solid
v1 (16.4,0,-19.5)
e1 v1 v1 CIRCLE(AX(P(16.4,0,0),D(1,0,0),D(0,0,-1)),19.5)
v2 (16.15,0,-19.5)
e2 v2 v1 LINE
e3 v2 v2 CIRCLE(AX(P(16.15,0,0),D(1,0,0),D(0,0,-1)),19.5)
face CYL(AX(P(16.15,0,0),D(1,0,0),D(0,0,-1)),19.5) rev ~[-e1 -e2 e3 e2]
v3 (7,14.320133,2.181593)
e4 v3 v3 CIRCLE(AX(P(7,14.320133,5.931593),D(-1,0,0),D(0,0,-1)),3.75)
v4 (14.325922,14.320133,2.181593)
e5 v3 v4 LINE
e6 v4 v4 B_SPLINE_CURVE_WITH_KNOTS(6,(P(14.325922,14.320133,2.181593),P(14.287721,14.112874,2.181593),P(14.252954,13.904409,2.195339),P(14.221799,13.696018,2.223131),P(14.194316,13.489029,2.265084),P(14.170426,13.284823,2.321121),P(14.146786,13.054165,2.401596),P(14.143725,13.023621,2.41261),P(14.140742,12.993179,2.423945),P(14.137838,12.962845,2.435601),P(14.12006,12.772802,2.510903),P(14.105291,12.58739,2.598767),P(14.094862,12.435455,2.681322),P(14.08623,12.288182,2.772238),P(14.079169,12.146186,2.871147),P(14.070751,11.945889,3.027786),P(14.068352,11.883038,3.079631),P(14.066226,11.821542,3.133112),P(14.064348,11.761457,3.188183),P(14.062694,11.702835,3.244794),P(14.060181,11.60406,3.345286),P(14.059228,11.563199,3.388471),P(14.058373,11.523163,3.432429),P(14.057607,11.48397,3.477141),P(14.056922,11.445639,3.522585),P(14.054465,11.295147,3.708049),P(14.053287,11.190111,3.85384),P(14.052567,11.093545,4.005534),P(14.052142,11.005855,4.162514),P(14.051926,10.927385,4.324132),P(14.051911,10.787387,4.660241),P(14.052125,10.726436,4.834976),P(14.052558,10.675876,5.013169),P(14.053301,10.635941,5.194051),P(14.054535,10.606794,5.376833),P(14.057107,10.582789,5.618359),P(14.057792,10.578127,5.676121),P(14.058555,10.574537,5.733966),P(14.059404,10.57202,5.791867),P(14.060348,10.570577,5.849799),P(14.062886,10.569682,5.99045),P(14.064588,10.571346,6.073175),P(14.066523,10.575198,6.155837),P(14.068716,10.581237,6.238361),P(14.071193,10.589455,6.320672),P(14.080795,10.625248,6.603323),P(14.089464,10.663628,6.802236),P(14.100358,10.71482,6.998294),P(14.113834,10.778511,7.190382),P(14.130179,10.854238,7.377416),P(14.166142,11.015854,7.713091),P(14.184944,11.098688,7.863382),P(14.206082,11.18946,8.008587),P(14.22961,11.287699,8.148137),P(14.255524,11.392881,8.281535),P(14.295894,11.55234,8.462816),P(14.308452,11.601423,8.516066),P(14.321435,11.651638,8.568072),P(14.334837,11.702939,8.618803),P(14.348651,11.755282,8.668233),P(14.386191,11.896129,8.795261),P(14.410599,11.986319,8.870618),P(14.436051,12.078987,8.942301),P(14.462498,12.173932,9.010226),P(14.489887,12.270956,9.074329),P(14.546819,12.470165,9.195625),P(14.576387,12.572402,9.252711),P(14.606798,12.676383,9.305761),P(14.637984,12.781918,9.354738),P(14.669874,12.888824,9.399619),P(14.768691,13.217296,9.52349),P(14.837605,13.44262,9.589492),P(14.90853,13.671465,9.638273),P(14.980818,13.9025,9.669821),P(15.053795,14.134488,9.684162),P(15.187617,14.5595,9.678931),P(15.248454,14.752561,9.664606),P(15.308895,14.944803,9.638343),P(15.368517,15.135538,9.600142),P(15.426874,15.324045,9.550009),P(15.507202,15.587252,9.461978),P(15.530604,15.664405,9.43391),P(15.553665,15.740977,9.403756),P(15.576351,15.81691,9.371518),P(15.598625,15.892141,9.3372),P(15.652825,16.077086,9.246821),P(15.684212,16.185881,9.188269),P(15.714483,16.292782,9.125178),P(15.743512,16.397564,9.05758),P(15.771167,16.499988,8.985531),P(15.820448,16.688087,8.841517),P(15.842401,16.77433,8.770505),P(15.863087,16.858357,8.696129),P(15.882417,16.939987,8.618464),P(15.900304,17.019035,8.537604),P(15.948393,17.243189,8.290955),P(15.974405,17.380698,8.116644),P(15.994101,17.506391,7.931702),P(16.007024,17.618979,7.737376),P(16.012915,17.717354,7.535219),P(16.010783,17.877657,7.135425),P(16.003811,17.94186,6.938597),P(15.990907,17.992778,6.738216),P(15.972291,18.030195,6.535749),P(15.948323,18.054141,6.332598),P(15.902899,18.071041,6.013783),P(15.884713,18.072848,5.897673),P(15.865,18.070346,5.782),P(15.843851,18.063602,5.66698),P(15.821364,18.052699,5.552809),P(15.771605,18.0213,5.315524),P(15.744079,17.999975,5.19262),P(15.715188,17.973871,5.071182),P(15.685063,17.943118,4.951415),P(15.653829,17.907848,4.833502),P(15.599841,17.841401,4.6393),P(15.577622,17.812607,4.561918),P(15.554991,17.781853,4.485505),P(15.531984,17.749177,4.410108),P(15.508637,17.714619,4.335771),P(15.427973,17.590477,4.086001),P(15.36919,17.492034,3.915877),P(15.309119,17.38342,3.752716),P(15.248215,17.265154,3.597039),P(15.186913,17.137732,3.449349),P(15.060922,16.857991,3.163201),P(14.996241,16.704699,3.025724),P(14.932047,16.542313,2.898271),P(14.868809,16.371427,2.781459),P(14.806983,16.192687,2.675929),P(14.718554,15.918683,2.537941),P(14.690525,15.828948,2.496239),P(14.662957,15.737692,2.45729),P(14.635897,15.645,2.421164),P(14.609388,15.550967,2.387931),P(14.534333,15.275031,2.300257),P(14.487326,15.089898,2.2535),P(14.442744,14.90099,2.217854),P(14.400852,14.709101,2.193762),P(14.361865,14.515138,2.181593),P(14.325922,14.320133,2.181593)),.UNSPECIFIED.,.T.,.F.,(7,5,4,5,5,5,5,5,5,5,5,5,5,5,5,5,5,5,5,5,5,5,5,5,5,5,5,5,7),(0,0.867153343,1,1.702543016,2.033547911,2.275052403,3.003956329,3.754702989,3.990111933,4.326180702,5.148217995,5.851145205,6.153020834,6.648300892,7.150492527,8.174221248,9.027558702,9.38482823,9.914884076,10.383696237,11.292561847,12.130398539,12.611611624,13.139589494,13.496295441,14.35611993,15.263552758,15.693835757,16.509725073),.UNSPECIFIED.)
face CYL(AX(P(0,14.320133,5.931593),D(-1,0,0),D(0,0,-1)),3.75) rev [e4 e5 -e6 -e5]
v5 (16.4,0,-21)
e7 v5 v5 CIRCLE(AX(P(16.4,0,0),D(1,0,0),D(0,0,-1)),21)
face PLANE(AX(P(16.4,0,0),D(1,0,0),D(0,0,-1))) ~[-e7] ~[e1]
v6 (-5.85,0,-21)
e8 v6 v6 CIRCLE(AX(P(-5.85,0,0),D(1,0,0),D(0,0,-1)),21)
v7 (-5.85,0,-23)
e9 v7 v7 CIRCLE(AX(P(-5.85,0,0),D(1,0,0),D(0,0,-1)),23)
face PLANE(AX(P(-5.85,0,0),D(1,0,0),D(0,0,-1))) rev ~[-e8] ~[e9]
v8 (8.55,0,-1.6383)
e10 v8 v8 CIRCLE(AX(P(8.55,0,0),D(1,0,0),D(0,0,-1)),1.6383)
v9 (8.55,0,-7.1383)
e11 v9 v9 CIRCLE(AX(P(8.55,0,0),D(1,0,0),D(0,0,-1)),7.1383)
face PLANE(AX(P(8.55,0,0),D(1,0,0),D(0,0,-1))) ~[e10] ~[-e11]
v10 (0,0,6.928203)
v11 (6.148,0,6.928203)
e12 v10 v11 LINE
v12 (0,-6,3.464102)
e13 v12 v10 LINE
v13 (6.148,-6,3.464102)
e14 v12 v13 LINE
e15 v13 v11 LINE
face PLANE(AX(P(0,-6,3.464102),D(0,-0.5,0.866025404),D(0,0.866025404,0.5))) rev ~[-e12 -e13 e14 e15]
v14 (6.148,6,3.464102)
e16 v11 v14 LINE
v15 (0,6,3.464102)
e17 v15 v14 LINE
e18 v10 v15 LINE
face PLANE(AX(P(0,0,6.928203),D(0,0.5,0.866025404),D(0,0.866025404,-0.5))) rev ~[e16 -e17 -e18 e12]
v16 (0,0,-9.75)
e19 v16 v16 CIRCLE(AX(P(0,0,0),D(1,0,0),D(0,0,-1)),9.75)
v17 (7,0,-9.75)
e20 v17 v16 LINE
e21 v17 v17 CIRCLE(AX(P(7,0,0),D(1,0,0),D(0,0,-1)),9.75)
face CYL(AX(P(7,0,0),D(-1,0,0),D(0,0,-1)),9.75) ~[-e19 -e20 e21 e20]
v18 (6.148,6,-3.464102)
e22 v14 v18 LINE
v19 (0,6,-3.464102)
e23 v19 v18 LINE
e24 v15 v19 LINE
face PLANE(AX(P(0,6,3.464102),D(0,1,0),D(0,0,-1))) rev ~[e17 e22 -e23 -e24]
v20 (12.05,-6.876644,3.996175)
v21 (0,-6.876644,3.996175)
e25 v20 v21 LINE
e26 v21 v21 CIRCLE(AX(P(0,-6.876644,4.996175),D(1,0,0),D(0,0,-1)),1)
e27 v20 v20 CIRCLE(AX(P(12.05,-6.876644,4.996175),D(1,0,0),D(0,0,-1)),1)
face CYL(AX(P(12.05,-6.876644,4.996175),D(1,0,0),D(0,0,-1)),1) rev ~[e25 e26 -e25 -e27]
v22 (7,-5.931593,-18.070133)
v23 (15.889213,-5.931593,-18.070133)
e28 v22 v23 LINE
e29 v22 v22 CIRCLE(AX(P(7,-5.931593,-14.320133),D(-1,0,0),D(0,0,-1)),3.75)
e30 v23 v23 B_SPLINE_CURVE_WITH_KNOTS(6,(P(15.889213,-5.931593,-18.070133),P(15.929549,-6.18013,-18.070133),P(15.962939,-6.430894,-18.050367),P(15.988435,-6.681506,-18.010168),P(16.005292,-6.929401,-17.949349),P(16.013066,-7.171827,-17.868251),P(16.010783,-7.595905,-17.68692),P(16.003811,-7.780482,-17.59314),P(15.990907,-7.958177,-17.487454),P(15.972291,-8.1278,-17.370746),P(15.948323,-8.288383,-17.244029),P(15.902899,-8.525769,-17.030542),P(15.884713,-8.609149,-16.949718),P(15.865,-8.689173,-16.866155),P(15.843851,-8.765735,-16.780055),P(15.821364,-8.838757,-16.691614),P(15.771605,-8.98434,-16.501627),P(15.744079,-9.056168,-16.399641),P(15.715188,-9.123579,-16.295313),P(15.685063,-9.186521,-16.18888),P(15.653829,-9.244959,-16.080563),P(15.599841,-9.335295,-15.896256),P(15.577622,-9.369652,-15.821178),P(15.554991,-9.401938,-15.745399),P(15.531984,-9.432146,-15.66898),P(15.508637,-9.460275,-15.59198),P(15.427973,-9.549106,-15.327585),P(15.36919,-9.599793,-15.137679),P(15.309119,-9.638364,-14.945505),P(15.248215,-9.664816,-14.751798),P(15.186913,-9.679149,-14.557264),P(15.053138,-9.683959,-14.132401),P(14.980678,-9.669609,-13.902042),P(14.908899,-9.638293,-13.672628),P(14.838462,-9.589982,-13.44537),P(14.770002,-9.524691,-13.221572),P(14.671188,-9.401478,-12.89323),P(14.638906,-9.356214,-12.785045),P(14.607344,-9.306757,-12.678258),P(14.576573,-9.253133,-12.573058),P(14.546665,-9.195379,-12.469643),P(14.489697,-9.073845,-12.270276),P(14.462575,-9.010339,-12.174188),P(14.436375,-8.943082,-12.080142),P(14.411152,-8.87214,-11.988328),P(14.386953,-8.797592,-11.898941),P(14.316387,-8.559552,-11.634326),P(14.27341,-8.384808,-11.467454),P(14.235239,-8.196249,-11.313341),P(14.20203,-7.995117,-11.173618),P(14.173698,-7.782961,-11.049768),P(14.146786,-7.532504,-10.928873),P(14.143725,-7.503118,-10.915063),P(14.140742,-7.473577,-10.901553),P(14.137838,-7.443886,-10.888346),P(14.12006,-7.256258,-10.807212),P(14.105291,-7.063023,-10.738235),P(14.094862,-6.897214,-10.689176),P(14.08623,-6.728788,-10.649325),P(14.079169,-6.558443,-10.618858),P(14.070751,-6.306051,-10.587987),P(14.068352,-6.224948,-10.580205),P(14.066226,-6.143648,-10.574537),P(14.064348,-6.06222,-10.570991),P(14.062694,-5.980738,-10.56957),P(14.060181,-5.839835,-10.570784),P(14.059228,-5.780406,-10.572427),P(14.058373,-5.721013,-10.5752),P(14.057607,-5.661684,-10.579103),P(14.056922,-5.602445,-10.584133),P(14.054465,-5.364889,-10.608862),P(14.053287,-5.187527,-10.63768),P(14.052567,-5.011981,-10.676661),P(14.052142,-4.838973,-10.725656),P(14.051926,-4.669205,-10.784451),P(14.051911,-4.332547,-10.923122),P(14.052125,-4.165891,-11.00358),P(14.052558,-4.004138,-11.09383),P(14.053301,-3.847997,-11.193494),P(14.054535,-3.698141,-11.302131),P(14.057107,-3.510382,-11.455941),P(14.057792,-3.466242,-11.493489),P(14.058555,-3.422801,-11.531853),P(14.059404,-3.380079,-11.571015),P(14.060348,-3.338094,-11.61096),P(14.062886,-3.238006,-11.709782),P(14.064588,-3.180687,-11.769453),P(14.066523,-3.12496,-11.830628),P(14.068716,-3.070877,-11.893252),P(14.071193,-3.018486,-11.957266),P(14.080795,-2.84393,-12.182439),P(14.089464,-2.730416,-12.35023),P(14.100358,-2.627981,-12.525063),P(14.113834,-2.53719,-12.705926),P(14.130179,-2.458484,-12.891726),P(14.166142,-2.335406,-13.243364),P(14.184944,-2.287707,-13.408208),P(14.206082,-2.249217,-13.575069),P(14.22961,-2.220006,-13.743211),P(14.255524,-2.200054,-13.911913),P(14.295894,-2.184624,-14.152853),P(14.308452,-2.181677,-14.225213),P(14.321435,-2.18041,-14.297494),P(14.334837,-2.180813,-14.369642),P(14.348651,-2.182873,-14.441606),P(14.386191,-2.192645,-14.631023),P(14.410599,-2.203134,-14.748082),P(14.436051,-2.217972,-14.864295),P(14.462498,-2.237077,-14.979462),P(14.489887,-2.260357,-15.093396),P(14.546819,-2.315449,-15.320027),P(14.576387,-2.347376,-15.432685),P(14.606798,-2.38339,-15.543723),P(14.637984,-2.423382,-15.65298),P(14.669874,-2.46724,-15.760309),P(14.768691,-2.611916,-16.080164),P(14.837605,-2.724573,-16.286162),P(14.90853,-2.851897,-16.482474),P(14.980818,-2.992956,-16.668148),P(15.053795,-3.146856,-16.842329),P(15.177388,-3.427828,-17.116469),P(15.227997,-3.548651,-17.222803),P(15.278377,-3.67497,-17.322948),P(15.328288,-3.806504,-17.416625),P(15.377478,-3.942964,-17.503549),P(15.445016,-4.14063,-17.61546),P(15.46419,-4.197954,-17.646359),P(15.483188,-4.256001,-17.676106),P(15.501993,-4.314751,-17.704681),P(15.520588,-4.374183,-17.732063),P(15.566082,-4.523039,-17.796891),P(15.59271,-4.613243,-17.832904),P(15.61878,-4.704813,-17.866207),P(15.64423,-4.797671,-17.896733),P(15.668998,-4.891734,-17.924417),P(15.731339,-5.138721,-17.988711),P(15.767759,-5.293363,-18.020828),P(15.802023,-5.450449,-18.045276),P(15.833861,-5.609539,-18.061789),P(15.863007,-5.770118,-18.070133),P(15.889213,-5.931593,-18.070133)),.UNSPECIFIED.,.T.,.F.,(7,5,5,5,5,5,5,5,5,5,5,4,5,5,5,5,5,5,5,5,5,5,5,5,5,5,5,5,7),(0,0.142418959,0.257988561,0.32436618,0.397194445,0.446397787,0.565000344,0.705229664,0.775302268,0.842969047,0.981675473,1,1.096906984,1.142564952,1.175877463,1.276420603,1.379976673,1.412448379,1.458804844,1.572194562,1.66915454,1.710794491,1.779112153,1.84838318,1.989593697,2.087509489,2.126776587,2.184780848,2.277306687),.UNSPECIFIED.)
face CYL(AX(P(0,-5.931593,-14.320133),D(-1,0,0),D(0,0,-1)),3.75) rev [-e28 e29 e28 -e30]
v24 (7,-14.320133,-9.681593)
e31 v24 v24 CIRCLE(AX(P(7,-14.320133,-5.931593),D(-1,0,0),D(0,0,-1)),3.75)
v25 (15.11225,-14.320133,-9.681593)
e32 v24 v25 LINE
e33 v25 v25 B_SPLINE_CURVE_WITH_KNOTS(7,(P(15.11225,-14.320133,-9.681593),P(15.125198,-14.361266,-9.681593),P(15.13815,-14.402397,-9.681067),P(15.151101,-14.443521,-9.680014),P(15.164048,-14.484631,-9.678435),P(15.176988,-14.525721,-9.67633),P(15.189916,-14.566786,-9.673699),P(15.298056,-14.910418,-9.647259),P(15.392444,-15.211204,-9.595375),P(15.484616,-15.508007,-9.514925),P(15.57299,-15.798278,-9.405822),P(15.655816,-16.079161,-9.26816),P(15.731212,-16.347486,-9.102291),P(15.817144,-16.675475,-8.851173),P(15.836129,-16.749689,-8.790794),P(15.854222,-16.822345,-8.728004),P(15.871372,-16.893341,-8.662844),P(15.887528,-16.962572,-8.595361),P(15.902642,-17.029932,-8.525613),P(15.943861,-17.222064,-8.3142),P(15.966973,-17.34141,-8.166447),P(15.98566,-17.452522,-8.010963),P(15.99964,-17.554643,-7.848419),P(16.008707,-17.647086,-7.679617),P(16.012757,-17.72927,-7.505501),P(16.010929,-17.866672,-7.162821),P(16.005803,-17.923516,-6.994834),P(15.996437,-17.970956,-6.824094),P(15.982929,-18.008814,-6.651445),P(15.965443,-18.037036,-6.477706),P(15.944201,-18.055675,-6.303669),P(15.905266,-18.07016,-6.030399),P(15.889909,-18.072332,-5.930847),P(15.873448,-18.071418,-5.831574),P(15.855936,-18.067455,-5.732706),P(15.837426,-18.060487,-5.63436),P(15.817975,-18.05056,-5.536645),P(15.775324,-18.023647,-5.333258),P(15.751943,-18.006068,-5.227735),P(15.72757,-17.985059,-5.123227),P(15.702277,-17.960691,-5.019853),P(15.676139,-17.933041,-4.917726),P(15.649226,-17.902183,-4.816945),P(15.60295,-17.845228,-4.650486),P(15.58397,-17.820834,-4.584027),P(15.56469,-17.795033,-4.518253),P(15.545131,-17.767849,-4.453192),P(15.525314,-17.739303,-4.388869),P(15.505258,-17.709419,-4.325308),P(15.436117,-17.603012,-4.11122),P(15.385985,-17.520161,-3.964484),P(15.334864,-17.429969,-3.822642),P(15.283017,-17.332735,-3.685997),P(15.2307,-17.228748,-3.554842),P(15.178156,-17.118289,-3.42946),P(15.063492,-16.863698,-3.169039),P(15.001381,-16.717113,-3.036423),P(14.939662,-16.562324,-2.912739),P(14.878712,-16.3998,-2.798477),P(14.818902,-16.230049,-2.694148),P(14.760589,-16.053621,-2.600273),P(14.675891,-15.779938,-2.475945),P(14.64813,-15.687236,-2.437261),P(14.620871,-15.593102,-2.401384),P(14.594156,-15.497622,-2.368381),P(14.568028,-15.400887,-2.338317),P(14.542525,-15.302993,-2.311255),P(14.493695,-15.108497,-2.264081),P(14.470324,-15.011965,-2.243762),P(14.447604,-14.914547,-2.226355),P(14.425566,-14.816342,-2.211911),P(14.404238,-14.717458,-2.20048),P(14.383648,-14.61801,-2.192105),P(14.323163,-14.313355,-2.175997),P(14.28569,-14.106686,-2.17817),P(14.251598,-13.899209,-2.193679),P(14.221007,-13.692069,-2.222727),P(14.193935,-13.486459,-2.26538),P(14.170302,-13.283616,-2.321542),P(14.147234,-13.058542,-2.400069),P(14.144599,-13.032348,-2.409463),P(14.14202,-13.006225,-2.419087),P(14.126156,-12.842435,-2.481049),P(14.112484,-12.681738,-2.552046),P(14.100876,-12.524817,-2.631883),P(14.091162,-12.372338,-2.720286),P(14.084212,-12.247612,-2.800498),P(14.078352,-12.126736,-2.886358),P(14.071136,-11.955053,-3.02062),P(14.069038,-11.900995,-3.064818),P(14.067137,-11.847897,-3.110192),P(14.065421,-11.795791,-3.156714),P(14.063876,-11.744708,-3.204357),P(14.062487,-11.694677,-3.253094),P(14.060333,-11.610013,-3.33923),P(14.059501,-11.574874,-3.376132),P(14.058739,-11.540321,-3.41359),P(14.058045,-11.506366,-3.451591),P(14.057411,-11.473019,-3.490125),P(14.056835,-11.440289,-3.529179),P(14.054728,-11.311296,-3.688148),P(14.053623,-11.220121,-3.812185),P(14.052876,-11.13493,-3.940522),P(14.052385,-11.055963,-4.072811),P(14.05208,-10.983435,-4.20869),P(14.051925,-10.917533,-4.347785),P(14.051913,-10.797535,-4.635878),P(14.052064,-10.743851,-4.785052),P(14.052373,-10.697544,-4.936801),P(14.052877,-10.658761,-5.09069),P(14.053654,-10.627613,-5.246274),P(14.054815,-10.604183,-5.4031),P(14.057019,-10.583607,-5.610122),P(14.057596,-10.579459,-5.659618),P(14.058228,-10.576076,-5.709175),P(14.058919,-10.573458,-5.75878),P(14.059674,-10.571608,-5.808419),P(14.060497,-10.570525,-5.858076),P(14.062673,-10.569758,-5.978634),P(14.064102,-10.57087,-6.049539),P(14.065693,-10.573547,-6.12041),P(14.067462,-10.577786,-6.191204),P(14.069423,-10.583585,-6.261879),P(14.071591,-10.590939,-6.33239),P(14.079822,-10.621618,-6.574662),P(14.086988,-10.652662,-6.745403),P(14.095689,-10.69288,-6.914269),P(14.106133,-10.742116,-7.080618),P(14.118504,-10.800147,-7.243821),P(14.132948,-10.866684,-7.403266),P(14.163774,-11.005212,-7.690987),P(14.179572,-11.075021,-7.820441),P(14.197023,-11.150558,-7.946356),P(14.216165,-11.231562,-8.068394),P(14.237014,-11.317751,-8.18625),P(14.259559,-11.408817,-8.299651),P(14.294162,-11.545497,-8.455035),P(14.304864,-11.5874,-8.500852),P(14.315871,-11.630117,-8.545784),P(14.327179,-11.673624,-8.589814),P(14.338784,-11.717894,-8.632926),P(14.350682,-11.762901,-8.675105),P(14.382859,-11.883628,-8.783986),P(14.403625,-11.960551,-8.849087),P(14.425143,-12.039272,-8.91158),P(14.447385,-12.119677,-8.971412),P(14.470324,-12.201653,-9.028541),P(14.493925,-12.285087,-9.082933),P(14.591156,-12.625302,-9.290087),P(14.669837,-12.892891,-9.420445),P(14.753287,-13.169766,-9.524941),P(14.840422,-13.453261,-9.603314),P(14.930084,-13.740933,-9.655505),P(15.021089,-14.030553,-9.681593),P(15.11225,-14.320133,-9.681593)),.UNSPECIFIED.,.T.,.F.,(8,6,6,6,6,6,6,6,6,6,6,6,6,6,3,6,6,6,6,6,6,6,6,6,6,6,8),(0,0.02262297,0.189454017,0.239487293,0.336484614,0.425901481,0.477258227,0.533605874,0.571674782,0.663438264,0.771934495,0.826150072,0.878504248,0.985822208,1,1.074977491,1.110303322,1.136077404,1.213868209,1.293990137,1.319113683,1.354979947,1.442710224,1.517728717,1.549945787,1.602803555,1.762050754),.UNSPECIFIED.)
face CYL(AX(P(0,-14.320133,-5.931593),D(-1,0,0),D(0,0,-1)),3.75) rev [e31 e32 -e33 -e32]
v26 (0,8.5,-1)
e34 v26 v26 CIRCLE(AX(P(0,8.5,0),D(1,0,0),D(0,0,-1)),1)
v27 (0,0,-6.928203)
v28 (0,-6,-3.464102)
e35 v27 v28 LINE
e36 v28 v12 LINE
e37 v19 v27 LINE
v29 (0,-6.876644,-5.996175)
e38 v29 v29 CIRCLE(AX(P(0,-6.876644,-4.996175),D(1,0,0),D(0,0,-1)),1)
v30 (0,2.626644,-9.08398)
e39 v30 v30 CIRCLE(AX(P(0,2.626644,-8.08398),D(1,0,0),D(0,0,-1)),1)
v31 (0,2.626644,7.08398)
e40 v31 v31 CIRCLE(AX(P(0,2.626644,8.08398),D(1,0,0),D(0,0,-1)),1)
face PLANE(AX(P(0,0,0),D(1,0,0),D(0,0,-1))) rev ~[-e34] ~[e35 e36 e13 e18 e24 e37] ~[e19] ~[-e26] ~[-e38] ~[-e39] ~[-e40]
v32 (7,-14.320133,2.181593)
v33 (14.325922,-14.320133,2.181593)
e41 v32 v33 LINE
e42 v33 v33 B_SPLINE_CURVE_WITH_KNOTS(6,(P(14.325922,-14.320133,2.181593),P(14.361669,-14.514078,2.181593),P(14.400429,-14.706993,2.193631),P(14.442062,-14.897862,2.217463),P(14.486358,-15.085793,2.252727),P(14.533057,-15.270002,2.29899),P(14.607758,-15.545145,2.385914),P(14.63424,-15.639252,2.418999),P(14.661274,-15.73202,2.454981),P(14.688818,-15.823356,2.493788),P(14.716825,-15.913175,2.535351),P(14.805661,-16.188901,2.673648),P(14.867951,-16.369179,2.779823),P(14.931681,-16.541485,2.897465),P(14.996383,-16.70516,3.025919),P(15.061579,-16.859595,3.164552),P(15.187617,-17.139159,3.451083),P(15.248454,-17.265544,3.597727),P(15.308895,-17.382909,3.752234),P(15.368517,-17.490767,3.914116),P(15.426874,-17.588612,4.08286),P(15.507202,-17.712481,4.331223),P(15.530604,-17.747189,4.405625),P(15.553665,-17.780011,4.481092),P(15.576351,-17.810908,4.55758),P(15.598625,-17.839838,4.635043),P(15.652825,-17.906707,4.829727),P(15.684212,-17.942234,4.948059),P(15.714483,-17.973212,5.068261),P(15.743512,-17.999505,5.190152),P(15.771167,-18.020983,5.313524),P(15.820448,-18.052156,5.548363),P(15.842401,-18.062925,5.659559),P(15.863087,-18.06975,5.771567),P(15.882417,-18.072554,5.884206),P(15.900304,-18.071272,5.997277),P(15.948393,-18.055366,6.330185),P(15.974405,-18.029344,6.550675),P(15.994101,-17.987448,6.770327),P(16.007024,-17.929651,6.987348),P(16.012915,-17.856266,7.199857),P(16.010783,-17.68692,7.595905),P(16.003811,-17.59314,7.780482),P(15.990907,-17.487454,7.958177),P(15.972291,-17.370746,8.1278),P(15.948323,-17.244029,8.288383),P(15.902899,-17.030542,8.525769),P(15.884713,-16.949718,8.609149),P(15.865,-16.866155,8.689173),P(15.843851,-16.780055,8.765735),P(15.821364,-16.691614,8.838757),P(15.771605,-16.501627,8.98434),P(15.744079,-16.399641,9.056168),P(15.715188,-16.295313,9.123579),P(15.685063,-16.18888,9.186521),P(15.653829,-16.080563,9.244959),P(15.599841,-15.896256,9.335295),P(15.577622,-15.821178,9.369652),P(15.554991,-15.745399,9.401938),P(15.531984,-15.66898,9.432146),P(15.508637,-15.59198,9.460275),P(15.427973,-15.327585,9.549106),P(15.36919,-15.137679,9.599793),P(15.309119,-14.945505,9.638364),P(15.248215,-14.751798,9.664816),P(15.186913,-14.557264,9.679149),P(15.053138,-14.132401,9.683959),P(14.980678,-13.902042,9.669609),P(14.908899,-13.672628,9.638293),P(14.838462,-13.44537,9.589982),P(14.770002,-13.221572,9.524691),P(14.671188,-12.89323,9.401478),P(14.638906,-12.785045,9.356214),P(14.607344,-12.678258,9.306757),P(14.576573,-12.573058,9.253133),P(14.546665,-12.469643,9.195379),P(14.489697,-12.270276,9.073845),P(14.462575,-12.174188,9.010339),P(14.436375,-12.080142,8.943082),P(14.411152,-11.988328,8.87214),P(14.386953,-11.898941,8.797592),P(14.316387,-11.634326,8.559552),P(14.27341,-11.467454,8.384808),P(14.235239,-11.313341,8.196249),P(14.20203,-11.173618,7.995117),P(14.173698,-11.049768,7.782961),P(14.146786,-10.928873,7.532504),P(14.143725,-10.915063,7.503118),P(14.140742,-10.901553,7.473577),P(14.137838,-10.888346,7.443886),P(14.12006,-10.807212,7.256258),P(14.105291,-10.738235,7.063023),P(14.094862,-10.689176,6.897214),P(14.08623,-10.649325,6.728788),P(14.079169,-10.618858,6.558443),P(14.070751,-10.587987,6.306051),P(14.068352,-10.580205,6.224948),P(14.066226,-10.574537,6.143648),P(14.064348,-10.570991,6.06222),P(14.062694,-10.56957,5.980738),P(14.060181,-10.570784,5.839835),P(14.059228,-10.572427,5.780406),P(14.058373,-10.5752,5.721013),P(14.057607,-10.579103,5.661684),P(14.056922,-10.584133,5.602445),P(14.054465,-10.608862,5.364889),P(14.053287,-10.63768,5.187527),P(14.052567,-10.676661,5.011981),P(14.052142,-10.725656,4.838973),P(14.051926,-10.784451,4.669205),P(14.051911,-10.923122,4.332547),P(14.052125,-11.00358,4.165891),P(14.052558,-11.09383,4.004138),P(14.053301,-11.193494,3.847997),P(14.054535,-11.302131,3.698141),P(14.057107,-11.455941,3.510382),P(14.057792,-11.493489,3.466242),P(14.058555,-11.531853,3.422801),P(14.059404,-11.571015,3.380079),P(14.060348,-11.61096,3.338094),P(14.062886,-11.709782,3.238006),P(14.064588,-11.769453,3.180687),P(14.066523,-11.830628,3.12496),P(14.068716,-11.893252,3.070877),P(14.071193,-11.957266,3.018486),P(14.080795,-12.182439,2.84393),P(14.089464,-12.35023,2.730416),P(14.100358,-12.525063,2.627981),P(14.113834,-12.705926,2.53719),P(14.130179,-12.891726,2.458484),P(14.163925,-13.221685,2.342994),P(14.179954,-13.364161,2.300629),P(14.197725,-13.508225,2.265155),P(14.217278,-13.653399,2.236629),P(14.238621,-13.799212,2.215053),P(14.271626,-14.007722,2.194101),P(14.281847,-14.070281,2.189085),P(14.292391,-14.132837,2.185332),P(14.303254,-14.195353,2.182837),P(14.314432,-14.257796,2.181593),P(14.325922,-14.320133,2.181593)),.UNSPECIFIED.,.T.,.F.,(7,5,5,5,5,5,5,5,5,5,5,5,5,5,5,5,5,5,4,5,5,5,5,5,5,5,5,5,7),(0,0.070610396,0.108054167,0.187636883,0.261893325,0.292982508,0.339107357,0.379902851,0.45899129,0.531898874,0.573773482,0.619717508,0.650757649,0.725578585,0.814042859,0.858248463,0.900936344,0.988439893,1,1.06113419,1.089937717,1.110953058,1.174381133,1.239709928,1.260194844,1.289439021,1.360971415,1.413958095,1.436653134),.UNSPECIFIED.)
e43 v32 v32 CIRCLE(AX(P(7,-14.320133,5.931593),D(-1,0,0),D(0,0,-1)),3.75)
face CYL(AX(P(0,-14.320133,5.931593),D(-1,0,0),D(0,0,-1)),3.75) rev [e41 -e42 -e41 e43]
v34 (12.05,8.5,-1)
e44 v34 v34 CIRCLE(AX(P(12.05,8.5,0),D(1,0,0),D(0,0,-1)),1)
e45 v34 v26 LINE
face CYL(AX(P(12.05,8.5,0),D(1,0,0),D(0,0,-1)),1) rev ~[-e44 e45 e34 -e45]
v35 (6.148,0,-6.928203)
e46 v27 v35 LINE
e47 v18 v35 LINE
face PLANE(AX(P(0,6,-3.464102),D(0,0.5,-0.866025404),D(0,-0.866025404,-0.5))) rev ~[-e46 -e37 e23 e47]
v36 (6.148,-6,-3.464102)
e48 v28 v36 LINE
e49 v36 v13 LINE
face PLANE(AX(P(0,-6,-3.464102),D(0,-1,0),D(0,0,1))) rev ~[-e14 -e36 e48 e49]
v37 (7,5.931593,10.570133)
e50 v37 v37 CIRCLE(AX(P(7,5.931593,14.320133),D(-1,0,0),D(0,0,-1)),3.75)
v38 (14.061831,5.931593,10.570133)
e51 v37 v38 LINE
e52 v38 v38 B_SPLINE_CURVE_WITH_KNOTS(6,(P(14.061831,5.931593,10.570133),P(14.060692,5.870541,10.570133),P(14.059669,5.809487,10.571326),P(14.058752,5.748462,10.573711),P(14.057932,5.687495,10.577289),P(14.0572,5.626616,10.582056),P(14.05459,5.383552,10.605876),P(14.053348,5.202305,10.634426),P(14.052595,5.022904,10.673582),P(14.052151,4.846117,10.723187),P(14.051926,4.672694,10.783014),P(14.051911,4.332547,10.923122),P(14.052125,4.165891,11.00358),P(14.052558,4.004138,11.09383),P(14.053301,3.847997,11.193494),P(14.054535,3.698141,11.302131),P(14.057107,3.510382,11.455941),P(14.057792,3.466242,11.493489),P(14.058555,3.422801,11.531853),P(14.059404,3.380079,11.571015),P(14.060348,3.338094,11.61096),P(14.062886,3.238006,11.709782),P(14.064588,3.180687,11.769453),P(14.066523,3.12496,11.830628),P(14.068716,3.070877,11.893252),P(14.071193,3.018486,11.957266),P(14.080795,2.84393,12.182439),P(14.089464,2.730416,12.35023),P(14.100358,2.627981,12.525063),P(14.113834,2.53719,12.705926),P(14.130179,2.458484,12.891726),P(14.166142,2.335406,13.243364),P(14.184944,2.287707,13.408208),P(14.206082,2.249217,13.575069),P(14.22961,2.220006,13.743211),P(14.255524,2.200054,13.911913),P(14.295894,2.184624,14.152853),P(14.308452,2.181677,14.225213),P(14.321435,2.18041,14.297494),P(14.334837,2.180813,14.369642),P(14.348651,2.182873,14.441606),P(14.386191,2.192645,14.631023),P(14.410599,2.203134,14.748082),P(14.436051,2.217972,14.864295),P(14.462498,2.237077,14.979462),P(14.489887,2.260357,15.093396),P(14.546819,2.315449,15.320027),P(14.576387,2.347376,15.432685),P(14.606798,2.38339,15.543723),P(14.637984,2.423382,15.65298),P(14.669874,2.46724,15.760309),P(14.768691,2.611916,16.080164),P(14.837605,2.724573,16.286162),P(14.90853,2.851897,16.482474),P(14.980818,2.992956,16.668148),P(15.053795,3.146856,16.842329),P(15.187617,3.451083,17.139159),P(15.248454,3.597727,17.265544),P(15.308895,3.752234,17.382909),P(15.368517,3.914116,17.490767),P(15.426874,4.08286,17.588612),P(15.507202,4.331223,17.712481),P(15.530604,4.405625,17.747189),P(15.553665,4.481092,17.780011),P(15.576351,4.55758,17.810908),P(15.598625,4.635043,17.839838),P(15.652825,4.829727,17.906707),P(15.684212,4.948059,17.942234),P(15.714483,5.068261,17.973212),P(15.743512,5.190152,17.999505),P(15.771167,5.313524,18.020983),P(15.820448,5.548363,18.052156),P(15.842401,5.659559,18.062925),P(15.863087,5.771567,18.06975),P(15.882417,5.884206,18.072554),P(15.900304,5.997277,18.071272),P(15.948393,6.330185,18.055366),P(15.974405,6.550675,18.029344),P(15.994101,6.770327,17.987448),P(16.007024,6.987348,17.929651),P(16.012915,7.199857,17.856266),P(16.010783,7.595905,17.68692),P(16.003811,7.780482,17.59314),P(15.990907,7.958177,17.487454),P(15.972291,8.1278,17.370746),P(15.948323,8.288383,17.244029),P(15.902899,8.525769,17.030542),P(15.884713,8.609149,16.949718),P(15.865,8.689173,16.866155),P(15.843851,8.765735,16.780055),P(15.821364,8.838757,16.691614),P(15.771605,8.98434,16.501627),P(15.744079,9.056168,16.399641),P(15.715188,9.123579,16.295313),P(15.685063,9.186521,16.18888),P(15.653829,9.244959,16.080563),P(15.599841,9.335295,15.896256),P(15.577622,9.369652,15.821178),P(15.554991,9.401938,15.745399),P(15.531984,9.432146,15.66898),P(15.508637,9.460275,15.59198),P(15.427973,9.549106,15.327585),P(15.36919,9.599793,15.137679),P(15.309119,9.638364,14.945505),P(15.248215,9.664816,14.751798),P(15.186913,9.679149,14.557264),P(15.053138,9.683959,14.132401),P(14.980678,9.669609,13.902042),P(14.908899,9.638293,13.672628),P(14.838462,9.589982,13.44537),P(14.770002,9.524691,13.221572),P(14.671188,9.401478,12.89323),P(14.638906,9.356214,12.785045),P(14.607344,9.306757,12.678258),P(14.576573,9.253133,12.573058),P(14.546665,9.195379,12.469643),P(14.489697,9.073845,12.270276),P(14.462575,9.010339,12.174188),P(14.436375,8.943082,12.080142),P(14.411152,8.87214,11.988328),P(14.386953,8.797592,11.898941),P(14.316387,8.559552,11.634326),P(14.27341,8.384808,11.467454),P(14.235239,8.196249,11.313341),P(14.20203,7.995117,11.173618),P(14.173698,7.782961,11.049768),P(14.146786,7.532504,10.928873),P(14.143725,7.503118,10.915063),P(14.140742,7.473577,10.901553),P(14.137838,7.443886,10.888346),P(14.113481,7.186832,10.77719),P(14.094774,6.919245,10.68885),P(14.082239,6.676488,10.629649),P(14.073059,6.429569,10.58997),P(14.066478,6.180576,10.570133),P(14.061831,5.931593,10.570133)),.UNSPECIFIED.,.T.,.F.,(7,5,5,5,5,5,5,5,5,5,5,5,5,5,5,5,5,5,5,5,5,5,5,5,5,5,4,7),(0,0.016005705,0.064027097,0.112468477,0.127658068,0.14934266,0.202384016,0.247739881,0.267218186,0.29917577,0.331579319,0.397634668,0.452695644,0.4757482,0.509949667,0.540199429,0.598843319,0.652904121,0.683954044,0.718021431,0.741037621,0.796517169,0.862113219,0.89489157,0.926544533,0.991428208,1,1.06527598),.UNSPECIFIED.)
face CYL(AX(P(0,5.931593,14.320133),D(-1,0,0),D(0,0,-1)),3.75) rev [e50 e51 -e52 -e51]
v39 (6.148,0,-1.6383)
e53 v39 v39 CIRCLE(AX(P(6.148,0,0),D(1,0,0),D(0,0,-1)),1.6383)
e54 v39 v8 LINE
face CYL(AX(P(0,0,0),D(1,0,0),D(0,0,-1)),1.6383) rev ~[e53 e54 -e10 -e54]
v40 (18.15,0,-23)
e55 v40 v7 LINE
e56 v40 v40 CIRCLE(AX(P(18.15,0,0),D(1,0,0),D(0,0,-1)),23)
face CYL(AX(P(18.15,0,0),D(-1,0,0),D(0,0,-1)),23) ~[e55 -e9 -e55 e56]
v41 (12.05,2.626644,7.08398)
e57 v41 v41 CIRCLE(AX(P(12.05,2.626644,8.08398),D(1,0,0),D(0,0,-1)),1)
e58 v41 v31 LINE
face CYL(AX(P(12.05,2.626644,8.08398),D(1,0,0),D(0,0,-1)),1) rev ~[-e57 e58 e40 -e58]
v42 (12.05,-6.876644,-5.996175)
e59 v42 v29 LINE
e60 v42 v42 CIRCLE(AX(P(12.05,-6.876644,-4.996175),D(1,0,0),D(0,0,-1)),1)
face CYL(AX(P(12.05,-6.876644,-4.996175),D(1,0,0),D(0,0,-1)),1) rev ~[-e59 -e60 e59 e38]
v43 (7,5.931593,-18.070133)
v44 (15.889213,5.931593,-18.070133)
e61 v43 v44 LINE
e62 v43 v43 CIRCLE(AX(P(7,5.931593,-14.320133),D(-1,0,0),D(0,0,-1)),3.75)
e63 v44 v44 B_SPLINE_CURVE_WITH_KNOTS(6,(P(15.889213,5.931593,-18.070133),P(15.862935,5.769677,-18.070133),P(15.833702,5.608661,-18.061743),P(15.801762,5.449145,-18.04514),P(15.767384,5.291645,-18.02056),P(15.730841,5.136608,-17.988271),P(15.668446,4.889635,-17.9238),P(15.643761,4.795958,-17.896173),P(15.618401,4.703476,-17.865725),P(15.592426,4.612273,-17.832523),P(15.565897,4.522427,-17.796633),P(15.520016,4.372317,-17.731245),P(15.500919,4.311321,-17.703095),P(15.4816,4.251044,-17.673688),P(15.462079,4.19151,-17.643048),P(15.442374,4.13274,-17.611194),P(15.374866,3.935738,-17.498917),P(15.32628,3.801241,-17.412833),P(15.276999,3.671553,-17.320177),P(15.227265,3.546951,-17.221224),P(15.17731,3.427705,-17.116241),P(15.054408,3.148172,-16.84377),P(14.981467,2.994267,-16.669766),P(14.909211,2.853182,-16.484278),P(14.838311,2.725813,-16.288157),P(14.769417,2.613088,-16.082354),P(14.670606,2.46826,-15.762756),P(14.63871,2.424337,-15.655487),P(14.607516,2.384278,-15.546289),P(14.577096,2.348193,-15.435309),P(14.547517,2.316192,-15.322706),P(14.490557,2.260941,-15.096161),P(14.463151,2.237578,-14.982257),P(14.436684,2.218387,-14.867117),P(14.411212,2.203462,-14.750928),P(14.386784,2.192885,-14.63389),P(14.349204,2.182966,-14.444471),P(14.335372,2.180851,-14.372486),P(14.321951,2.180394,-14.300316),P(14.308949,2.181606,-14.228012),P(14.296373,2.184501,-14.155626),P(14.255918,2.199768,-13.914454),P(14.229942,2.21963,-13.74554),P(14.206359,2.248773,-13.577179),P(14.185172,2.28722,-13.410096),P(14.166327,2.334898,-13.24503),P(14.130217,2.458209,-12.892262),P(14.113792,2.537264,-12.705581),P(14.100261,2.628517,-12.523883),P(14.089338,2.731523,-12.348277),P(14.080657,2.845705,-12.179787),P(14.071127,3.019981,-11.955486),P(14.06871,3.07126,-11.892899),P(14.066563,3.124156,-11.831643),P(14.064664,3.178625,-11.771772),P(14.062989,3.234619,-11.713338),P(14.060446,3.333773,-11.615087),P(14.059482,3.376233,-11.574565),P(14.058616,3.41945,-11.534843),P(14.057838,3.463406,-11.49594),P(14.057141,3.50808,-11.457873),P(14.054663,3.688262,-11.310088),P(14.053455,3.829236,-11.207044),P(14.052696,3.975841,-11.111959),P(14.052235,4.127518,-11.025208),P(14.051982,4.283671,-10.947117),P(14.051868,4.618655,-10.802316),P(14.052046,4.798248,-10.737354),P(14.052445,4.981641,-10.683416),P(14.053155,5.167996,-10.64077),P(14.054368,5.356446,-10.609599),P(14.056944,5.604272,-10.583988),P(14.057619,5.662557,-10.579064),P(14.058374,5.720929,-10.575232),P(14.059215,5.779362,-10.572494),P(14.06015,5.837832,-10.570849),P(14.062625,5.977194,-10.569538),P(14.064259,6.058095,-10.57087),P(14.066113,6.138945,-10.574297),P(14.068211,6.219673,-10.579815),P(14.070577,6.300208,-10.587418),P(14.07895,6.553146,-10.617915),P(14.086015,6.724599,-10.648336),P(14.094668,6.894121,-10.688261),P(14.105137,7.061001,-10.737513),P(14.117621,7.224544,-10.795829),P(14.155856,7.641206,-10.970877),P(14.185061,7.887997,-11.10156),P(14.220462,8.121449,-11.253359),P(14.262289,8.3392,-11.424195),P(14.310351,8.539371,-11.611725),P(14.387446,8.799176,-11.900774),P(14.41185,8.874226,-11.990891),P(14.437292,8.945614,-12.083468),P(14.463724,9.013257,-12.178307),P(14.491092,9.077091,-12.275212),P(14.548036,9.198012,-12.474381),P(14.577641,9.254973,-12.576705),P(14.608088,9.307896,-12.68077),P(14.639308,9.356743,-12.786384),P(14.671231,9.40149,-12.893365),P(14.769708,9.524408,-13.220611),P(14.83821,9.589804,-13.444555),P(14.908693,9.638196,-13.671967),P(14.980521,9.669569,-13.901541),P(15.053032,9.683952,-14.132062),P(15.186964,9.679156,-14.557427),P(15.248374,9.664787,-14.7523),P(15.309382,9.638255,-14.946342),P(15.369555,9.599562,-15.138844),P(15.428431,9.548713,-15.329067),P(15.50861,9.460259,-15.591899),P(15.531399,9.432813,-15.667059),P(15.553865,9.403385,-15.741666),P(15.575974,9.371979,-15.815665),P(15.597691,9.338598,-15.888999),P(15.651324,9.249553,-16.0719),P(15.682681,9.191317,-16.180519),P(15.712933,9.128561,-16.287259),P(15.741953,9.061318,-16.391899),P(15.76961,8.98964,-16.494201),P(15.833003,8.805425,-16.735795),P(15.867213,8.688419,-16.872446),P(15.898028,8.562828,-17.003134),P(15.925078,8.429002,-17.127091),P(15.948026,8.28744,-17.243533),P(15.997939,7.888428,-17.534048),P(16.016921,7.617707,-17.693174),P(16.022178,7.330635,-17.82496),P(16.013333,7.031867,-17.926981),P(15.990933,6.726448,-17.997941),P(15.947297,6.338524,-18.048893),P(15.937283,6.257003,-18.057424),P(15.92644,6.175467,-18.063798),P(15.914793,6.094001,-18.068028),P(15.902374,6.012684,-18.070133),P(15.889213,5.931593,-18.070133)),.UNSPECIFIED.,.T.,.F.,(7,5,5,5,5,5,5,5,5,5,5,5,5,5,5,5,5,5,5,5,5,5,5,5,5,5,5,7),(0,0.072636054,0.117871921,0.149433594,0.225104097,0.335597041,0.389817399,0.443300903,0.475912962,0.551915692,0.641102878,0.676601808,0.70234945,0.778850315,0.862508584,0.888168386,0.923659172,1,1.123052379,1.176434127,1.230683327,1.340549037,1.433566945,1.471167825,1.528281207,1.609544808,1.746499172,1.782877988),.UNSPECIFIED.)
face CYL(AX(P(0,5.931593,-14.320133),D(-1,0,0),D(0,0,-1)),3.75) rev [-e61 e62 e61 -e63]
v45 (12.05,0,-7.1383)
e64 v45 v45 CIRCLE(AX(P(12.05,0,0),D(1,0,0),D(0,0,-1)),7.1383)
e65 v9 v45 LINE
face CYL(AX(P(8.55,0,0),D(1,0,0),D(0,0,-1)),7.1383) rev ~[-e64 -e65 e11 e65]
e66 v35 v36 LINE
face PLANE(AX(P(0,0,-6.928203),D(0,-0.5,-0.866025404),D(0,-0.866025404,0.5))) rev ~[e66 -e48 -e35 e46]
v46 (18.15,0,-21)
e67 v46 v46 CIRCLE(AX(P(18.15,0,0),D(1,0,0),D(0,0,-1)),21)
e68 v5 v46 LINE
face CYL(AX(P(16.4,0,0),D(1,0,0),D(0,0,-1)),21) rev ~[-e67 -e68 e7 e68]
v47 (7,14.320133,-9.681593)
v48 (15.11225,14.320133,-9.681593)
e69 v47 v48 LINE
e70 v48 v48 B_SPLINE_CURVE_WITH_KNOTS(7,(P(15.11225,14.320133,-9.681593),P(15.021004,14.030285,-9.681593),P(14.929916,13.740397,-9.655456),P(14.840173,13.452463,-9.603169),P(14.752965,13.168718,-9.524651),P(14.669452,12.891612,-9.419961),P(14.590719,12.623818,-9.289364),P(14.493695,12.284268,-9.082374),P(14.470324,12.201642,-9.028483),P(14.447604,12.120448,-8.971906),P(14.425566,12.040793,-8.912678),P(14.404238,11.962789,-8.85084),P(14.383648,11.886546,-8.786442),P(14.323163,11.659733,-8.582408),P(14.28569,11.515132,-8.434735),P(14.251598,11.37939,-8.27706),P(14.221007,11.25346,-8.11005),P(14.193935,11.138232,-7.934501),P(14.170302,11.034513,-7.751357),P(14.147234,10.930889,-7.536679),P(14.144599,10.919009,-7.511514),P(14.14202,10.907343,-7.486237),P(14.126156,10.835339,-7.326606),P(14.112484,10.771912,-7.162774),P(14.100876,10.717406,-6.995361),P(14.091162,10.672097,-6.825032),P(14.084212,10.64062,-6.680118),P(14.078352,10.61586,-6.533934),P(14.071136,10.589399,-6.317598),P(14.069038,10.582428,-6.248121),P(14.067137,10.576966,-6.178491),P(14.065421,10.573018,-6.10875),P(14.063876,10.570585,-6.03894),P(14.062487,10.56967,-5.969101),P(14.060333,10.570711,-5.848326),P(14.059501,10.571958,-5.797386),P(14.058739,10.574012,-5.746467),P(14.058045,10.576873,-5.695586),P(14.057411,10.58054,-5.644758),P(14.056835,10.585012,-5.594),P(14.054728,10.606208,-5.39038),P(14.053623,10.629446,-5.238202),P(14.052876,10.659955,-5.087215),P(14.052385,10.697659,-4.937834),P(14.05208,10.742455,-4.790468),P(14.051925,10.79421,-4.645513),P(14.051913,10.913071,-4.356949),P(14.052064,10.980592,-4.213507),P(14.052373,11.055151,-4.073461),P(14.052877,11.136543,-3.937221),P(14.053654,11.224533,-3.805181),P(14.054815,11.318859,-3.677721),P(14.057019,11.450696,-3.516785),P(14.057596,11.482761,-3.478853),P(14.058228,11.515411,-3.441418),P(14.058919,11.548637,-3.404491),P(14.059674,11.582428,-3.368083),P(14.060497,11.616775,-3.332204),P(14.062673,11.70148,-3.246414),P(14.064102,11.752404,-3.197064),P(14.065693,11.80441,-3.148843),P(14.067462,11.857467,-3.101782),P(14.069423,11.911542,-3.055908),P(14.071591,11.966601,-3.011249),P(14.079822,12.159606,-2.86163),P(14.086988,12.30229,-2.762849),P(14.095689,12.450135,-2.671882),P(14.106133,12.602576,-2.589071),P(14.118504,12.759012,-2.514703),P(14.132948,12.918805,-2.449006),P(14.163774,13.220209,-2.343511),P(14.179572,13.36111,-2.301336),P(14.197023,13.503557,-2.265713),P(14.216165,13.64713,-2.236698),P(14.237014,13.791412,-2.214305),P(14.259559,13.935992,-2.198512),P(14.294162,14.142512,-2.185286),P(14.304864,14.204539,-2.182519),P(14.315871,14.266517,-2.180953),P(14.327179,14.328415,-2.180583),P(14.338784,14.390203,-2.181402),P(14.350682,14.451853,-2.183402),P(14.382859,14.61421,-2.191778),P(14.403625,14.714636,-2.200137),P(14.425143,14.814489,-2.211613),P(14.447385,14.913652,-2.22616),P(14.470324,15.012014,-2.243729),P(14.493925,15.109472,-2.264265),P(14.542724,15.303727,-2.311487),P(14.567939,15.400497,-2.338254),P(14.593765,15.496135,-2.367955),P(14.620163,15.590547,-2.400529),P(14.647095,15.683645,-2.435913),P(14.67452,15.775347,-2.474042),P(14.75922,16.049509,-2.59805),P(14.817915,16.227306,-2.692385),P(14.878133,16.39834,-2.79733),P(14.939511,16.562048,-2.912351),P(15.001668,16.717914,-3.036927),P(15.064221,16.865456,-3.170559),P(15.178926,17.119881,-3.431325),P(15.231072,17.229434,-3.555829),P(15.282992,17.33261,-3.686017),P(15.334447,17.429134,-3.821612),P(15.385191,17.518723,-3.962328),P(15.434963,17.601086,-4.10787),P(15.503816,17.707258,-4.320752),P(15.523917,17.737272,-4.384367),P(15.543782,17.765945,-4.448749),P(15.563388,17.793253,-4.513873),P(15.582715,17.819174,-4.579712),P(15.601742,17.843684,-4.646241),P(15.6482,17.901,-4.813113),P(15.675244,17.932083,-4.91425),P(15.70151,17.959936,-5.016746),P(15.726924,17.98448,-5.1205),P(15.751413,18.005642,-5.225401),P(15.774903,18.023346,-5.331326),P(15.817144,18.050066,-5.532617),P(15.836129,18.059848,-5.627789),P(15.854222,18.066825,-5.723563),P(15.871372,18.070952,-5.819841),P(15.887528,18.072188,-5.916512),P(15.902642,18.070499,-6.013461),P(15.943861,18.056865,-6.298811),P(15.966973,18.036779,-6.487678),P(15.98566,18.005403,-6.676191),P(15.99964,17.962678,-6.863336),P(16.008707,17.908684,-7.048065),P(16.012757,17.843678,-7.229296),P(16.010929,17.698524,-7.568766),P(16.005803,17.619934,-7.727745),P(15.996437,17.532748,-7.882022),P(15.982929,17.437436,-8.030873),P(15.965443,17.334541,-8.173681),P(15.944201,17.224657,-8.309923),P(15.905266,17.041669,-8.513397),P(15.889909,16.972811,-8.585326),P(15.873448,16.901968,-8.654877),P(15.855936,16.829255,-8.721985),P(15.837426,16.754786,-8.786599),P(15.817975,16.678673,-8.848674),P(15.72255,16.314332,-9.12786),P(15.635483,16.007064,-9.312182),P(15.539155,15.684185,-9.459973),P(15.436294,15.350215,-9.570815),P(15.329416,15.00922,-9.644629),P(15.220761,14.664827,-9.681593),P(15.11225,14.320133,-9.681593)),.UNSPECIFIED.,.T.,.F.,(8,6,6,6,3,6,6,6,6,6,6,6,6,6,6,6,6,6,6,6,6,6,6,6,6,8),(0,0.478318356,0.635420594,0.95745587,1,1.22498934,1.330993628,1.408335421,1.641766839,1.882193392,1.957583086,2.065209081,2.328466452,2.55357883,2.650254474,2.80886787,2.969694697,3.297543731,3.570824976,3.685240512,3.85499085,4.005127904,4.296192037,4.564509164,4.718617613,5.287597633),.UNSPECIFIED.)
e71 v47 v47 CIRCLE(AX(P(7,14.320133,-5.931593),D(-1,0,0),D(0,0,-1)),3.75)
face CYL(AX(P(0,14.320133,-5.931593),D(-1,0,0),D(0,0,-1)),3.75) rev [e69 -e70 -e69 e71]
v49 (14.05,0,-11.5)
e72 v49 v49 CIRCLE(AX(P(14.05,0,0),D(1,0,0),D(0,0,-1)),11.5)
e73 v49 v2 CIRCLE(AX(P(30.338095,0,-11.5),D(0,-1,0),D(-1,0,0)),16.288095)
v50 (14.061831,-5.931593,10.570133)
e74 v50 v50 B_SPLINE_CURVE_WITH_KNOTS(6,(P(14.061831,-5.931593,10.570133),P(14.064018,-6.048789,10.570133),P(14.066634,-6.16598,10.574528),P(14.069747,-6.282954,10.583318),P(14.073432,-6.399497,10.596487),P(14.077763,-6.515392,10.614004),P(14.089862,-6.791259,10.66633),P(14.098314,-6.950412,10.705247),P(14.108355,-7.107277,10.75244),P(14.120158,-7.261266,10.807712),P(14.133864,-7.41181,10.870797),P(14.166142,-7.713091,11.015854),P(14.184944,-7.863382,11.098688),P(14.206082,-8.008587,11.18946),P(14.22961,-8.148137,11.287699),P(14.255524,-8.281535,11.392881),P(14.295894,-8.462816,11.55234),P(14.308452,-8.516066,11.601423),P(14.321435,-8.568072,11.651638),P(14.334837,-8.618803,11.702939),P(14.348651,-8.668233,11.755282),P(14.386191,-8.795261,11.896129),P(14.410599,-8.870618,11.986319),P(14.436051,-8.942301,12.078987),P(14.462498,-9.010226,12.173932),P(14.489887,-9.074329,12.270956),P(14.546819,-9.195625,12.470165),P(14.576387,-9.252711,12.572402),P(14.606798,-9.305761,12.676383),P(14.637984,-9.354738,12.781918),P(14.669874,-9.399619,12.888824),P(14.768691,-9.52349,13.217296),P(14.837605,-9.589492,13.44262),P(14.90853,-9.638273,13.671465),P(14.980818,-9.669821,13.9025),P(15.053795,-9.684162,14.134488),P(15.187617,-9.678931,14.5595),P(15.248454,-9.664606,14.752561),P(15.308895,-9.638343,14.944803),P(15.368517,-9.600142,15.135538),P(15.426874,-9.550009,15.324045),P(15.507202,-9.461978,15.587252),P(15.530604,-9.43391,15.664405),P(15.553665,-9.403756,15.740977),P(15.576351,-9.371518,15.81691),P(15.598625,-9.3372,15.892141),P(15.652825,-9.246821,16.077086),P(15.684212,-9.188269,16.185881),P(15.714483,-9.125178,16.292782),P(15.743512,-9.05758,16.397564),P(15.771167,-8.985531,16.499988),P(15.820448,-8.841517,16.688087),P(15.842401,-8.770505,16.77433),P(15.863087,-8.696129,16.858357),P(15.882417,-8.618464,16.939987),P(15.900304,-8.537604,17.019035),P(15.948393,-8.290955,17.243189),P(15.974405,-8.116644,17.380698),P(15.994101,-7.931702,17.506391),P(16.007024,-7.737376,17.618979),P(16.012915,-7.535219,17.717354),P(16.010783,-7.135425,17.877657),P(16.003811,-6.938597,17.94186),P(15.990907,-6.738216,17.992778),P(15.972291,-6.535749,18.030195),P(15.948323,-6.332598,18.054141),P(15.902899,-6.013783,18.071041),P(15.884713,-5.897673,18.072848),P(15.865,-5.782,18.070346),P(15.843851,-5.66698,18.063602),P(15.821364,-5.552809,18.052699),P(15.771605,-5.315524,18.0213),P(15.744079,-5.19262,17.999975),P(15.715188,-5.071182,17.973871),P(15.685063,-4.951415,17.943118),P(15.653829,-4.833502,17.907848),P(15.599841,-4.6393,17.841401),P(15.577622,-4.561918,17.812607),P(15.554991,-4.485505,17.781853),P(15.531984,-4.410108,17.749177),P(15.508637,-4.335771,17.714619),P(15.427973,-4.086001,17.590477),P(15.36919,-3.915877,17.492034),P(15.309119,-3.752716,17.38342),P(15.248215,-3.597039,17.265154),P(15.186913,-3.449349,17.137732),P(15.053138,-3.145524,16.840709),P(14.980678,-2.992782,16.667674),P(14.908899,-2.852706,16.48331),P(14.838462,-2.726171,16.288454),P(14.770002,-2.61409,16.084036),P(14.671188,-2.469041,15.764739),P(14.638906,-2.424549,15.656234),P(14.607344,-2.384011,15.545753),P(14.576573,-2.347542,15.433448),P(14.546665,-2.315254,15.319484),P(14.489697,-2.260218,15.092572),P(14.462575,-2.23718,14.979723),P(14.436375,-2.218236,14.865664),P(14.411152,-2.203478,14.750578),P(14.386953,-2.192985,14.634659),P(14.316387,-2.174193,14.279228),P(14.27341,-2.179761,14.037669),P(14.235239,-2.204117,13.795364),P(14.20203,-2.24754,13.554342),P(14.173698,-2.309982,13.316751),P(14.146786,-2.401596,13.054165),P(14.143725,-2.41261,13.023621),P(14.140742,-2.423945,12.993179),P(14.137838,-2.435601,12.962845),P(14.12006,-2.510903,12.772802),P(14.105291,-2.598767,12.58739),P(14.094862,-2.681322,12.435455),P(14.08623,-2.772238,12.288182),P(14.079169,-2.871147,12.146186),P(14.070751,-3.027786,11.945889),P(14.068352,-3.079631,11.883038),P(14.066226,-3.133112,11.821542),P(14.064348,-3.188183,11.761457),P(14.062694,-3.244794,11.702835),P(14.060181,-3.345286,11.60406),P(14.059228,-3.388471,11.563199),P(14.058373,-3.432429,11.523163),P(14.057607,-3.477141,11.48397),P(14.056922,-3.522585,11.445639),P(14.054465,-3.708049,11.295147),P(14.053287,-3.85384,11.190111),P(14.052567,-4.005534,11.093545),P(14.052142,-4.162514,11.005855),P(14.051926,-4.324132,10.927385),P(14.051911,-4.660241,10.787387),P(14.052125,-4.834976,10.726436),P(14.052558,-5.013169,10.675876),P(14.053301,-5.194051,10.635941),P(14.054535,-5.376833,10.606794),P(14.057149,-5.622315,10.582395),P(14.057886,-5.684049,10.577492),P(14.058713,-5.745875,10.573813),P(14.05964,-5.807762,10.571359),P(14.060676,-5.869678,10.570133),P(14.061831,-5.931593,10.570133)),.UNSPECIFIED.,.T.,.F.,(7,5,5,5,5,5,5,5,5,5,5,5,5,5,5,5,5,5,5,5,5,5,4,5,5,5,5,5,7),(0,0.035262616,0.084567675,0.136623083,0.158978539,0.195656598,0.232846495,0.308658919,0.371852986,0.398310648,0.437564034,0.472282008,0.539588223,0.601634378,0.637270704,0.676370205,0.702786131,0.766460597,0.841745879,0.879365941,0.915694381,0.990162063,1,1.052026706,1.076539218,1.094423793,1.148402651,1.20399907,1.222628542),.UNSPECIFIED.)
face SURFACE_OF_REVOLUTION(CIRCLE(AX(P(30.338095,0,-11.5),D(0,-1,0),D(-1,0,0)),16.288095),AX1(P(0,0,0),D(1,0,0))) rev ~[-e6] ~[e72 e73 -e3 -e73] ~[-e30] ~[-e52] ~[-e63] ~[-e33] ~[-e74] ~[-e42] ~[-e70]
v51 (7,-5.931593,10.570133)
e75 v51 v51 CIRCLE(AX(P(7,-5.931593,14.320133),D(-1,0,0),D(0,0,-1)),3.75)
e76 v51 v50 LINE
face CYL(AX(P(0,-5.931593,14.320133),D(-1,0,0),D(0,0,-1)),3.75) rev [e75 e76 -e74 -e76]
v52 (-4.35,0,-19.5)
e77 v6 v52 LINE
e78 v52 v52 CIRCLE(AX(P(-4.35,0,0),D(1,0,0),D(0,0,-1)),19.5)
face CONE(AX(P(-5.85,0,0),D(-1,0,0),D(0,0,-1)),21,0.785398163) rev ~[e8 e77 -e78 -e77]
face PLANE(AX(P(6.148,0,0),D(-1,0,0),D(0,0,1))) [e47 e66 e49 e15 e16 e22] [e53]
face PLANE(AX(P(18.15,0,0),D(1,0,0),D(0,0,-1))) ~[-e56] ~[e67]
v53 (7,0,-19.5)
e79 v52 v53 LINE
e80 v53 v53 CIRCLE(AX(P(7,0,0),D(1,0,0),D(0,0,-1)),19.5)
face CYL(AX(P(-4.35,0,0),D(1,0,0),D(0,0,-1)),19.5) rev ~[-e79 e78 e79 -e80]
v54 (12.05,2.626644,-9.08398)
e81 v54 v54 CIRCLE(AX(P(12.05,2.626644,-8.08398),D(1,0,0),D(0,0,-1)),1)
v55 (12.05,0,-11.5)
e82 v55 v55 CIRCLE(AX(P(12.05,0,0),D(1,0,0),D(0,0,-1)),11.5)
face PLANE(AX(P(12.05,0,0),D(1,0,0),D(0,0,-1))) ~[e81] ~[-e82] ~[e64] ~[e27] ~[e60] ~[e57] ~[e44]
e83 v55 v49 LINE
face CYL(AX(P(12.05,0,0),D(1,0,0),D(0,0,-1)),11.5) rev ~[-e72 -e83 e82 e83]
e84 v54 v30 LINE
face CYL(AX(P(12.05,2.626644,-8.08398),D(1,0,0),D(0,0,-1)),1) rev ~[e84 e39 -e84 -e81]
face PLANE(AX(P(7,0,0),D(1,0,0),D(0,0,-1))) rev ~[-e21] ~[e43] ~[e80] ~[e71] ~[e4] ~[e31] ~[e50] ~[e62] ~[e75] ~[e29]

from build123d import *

# Parameters (mm, degrees)
SKETCH2_R               = 3.75
CUT_EXTRUDE2_DEPTH      = 19.15
CUT_EXTRUDE2_DEPTH_BACK = 6.85
CUT_EXTRUDE3_REACH      = 19.9
SKETCH3_R               = 1
CUT_EXTRUDE4_DEPTH      = 6.148


with BuildPart() as part:
    # Sketch1 → Revolve1 (revolve)
    with BuildSketch(Plane(origin=(0, 0, 0), x_dir=(1, 0, 0), z_dir=(0, 1, 0))):
        with BuildLine():
            Line((8.55, 1.6383), (8.55, 7.1383))
            Line((8.55, 7.1383), (12.05, 7.1383))
            Line((12.05, 7.1383), (12.05, 11.5))
            Line((12.05, 11.5), (14.05, 11.5))
            ThreePointArc((14.05, 11.5), (14.583745157, 15.635516896), (16.15, 19.5))
            Line((16.15, 19.5), (16.4, 19.5))
            Line((16.4, 19.5), (16.4, 21))
            Line((16.4, 21), (18.15, 21))
            Line((18.15, 21), (18.15, 23))
            Line((18.15, 23), (-5.85, 23))
            Line((-5.85, 23), (-5.85, 21))
            Line((-5.85, 21), (-4.35, 19.5))
            Line((-4.35, 19.5), (7, 19.5))
            Line((7, 19.5), (7, 9.75))
            Line((7, 9.75), (0, 9.75))
            Line((0, 9.75), (0, 1.6383))
            Line((0, 1.6383), (8.55, 1.6383))
        make_face()
    revolve(axis=Axis((0, 0, 0), (1, 0, 0)))

    # Sketch2 → Cut-Extrude2 (cut, two sides)
    with BuildSketch(Plane(origin=(0, 0, 0), x_dir=(0, 0, -1), z_dir=(1, 0, 0))) as cut_extrude2_sk:
        with Locations((-5.931593202, 14.320132754)):
            Circle(SKETCH2_R)
        with Locations((5.931593202, 14.320132754)):
            Circle(SKETCH2_R)
        with Locations((14.320132754, 5.931593202)):
            Circle(SKETCH2_R)
        with Locations((14.320132754, -5.931593202)):
            Circle(SKETCH2_R)
        with Locations((5.931593202, -14.320132754)):
            Circle(SKETCH2_R)
        with Locations((-5.931593202, -14.320132754)):
            Circle(SKETCH2_R)
        with Locations((-14.320132754, -5.931593202)):
            Circle(SKETCH2_R)
        with Locations((-14.320132754, 5.931593202)):
            Circle(SKETCH2_R)
    extrude(amount=CUT_EXTRUDE2_DEPTH, mode=Mode.SUBTRACT)
    extrude(cut_extrude2_sk.sketch, amount=-CUT_EXTRUDE2_DEPTH_BACK, mode=Mode.SUBTRACT)

    # Sketch3 → Cut-Extrude3 (cut, up to next)
    with BuildSketch(Plane(origin=(12.05, 0, 0), x_dir=(0, 0, -1), z_dir=(1, 0, 0)), mode=Mode.PRIVATE) as cut_extrude3_sk1:
        with Locations((0, 8.5)):
            Circle(SKETCH3_R)
    cut_extrude3_tool1 = extrude(cut_extrude3_sk1.sketch, amount=-CUT_EXTRUDE3_REACH, mode=Mode.PRIVATE) & part.part
    add(cut_extrude3_tool1.solids().sort_by_distance((12.05, 8.5, 0))[0], mode=Mode.SUBTRACT)
    # Sketch3 → Cut-Extrude3 (cut, up to next)
    with BuildSketch(Plane(origin=(12.05, 0, 0), x_dir=(0, 0, -1), z_dir=(1, 0, 0)), mode=Mode.PRIVATE) as cut_extrude3_sk2:
        with Locations((8.083980389, 2.626644452)):
            Circle(SKETCH3_R)
    cut_extrude3_tool2 = extrude(cut_extrude3_sk2.sketch, amount=-CUT_EXTRUDE3_REACH, mode=Mode.PRIVATE) & part.part
    add(cut_extrude3_tool2.solids().sort_by_distance((12.05, 2.626644, -8.08398))[0], mode=Mode.SUBTRACT)
    # Sketch3 → Cut-Extrude3 (cut, up to next)
    with BuildSketch(Plane(origin=(12.05, 0, 0), x_dir=(0, 0, -1), z_dir=(1, 0, 0)), mode=Mode.PRIVATE) as cut_extrude3_sk3:
        with Locations((4.996174644, -6.876644452)):
            Circle(SKETCH3_R)
    cut_extrude3_tool3 = extrude(cut_extrude3_sk3.sketch, amount=-CUT_EXTRUDE3_REACH, mode=Mode.PRIVATE) & part.part
    add(cut_extrude3_tool3.solids().sort_by_distance((12.05, -6.876644, -4.996175))[0], mode=Mode.SUBTRACT)
    # Sketch3 → Cut-Extrude3 (cut, up to next)
    with BuildSketch(Plane(origin=(12.05, 0, 0), x_dir=(0, 0, -1), z_dir=(1, 0, 0)), mode=Mode.PRIVATE) as cut_extrude3_sk4:
        with Locations((-4.996174644, -6.876644452)):
            Circle(SKETCH3_R)
    cut_extrude3_tool4 = extrude(cut_extrude3_sk4.sketch, amount=-CUT_EXTRUDE3_REACH, mode=Mode.PRIVATE) & part.part
    add(cut_extrude3_tool4.solids().sort_by_distance((12.05, -6.876644, 4.996175))[0], mode=Mode.SUBTRACT)
    # Sketch3 → Cut-Extrude3 (cut, up to next)
    with BuildSketch(Plane(origin=(12.05, 0, 0), x_dir=(0, 0, -1), z_dir=(1, 0, 0)), mode=Mode.PRIVATE) as cut_extrude3_sk5:
        with Locations((-8.083980389, 2.626644452)):
            Circle(SKETCH3_R)
    cut_extrude3_tool5 = extrude(cut_extrude3_sk5.sketch, amount=-CUT_EXTRUDE3_REACH, mode=Mode.PRIVATE) & part.part
    add(cut_extrude3_tool5.solids().sort_by_distance((12.05, 2.626644, 8.08398))[0], mode=Mode.SUBTRACT)

    # Sketch4 → Cut-Extrude4 (cut)
    with BuildSketch(Plane.ZY):
        Polygon((6.92820323, 0), (3.464101615, 6), (-3.464101615, 6), (-6.92820323, 0), (-3.464101615, -6), (3.464101615, -6), align=None)
    extrude(amount=-CUT_EXTRUDE4_DEPTH, mode=Mode.SUBTRACT)


solid = part.part
